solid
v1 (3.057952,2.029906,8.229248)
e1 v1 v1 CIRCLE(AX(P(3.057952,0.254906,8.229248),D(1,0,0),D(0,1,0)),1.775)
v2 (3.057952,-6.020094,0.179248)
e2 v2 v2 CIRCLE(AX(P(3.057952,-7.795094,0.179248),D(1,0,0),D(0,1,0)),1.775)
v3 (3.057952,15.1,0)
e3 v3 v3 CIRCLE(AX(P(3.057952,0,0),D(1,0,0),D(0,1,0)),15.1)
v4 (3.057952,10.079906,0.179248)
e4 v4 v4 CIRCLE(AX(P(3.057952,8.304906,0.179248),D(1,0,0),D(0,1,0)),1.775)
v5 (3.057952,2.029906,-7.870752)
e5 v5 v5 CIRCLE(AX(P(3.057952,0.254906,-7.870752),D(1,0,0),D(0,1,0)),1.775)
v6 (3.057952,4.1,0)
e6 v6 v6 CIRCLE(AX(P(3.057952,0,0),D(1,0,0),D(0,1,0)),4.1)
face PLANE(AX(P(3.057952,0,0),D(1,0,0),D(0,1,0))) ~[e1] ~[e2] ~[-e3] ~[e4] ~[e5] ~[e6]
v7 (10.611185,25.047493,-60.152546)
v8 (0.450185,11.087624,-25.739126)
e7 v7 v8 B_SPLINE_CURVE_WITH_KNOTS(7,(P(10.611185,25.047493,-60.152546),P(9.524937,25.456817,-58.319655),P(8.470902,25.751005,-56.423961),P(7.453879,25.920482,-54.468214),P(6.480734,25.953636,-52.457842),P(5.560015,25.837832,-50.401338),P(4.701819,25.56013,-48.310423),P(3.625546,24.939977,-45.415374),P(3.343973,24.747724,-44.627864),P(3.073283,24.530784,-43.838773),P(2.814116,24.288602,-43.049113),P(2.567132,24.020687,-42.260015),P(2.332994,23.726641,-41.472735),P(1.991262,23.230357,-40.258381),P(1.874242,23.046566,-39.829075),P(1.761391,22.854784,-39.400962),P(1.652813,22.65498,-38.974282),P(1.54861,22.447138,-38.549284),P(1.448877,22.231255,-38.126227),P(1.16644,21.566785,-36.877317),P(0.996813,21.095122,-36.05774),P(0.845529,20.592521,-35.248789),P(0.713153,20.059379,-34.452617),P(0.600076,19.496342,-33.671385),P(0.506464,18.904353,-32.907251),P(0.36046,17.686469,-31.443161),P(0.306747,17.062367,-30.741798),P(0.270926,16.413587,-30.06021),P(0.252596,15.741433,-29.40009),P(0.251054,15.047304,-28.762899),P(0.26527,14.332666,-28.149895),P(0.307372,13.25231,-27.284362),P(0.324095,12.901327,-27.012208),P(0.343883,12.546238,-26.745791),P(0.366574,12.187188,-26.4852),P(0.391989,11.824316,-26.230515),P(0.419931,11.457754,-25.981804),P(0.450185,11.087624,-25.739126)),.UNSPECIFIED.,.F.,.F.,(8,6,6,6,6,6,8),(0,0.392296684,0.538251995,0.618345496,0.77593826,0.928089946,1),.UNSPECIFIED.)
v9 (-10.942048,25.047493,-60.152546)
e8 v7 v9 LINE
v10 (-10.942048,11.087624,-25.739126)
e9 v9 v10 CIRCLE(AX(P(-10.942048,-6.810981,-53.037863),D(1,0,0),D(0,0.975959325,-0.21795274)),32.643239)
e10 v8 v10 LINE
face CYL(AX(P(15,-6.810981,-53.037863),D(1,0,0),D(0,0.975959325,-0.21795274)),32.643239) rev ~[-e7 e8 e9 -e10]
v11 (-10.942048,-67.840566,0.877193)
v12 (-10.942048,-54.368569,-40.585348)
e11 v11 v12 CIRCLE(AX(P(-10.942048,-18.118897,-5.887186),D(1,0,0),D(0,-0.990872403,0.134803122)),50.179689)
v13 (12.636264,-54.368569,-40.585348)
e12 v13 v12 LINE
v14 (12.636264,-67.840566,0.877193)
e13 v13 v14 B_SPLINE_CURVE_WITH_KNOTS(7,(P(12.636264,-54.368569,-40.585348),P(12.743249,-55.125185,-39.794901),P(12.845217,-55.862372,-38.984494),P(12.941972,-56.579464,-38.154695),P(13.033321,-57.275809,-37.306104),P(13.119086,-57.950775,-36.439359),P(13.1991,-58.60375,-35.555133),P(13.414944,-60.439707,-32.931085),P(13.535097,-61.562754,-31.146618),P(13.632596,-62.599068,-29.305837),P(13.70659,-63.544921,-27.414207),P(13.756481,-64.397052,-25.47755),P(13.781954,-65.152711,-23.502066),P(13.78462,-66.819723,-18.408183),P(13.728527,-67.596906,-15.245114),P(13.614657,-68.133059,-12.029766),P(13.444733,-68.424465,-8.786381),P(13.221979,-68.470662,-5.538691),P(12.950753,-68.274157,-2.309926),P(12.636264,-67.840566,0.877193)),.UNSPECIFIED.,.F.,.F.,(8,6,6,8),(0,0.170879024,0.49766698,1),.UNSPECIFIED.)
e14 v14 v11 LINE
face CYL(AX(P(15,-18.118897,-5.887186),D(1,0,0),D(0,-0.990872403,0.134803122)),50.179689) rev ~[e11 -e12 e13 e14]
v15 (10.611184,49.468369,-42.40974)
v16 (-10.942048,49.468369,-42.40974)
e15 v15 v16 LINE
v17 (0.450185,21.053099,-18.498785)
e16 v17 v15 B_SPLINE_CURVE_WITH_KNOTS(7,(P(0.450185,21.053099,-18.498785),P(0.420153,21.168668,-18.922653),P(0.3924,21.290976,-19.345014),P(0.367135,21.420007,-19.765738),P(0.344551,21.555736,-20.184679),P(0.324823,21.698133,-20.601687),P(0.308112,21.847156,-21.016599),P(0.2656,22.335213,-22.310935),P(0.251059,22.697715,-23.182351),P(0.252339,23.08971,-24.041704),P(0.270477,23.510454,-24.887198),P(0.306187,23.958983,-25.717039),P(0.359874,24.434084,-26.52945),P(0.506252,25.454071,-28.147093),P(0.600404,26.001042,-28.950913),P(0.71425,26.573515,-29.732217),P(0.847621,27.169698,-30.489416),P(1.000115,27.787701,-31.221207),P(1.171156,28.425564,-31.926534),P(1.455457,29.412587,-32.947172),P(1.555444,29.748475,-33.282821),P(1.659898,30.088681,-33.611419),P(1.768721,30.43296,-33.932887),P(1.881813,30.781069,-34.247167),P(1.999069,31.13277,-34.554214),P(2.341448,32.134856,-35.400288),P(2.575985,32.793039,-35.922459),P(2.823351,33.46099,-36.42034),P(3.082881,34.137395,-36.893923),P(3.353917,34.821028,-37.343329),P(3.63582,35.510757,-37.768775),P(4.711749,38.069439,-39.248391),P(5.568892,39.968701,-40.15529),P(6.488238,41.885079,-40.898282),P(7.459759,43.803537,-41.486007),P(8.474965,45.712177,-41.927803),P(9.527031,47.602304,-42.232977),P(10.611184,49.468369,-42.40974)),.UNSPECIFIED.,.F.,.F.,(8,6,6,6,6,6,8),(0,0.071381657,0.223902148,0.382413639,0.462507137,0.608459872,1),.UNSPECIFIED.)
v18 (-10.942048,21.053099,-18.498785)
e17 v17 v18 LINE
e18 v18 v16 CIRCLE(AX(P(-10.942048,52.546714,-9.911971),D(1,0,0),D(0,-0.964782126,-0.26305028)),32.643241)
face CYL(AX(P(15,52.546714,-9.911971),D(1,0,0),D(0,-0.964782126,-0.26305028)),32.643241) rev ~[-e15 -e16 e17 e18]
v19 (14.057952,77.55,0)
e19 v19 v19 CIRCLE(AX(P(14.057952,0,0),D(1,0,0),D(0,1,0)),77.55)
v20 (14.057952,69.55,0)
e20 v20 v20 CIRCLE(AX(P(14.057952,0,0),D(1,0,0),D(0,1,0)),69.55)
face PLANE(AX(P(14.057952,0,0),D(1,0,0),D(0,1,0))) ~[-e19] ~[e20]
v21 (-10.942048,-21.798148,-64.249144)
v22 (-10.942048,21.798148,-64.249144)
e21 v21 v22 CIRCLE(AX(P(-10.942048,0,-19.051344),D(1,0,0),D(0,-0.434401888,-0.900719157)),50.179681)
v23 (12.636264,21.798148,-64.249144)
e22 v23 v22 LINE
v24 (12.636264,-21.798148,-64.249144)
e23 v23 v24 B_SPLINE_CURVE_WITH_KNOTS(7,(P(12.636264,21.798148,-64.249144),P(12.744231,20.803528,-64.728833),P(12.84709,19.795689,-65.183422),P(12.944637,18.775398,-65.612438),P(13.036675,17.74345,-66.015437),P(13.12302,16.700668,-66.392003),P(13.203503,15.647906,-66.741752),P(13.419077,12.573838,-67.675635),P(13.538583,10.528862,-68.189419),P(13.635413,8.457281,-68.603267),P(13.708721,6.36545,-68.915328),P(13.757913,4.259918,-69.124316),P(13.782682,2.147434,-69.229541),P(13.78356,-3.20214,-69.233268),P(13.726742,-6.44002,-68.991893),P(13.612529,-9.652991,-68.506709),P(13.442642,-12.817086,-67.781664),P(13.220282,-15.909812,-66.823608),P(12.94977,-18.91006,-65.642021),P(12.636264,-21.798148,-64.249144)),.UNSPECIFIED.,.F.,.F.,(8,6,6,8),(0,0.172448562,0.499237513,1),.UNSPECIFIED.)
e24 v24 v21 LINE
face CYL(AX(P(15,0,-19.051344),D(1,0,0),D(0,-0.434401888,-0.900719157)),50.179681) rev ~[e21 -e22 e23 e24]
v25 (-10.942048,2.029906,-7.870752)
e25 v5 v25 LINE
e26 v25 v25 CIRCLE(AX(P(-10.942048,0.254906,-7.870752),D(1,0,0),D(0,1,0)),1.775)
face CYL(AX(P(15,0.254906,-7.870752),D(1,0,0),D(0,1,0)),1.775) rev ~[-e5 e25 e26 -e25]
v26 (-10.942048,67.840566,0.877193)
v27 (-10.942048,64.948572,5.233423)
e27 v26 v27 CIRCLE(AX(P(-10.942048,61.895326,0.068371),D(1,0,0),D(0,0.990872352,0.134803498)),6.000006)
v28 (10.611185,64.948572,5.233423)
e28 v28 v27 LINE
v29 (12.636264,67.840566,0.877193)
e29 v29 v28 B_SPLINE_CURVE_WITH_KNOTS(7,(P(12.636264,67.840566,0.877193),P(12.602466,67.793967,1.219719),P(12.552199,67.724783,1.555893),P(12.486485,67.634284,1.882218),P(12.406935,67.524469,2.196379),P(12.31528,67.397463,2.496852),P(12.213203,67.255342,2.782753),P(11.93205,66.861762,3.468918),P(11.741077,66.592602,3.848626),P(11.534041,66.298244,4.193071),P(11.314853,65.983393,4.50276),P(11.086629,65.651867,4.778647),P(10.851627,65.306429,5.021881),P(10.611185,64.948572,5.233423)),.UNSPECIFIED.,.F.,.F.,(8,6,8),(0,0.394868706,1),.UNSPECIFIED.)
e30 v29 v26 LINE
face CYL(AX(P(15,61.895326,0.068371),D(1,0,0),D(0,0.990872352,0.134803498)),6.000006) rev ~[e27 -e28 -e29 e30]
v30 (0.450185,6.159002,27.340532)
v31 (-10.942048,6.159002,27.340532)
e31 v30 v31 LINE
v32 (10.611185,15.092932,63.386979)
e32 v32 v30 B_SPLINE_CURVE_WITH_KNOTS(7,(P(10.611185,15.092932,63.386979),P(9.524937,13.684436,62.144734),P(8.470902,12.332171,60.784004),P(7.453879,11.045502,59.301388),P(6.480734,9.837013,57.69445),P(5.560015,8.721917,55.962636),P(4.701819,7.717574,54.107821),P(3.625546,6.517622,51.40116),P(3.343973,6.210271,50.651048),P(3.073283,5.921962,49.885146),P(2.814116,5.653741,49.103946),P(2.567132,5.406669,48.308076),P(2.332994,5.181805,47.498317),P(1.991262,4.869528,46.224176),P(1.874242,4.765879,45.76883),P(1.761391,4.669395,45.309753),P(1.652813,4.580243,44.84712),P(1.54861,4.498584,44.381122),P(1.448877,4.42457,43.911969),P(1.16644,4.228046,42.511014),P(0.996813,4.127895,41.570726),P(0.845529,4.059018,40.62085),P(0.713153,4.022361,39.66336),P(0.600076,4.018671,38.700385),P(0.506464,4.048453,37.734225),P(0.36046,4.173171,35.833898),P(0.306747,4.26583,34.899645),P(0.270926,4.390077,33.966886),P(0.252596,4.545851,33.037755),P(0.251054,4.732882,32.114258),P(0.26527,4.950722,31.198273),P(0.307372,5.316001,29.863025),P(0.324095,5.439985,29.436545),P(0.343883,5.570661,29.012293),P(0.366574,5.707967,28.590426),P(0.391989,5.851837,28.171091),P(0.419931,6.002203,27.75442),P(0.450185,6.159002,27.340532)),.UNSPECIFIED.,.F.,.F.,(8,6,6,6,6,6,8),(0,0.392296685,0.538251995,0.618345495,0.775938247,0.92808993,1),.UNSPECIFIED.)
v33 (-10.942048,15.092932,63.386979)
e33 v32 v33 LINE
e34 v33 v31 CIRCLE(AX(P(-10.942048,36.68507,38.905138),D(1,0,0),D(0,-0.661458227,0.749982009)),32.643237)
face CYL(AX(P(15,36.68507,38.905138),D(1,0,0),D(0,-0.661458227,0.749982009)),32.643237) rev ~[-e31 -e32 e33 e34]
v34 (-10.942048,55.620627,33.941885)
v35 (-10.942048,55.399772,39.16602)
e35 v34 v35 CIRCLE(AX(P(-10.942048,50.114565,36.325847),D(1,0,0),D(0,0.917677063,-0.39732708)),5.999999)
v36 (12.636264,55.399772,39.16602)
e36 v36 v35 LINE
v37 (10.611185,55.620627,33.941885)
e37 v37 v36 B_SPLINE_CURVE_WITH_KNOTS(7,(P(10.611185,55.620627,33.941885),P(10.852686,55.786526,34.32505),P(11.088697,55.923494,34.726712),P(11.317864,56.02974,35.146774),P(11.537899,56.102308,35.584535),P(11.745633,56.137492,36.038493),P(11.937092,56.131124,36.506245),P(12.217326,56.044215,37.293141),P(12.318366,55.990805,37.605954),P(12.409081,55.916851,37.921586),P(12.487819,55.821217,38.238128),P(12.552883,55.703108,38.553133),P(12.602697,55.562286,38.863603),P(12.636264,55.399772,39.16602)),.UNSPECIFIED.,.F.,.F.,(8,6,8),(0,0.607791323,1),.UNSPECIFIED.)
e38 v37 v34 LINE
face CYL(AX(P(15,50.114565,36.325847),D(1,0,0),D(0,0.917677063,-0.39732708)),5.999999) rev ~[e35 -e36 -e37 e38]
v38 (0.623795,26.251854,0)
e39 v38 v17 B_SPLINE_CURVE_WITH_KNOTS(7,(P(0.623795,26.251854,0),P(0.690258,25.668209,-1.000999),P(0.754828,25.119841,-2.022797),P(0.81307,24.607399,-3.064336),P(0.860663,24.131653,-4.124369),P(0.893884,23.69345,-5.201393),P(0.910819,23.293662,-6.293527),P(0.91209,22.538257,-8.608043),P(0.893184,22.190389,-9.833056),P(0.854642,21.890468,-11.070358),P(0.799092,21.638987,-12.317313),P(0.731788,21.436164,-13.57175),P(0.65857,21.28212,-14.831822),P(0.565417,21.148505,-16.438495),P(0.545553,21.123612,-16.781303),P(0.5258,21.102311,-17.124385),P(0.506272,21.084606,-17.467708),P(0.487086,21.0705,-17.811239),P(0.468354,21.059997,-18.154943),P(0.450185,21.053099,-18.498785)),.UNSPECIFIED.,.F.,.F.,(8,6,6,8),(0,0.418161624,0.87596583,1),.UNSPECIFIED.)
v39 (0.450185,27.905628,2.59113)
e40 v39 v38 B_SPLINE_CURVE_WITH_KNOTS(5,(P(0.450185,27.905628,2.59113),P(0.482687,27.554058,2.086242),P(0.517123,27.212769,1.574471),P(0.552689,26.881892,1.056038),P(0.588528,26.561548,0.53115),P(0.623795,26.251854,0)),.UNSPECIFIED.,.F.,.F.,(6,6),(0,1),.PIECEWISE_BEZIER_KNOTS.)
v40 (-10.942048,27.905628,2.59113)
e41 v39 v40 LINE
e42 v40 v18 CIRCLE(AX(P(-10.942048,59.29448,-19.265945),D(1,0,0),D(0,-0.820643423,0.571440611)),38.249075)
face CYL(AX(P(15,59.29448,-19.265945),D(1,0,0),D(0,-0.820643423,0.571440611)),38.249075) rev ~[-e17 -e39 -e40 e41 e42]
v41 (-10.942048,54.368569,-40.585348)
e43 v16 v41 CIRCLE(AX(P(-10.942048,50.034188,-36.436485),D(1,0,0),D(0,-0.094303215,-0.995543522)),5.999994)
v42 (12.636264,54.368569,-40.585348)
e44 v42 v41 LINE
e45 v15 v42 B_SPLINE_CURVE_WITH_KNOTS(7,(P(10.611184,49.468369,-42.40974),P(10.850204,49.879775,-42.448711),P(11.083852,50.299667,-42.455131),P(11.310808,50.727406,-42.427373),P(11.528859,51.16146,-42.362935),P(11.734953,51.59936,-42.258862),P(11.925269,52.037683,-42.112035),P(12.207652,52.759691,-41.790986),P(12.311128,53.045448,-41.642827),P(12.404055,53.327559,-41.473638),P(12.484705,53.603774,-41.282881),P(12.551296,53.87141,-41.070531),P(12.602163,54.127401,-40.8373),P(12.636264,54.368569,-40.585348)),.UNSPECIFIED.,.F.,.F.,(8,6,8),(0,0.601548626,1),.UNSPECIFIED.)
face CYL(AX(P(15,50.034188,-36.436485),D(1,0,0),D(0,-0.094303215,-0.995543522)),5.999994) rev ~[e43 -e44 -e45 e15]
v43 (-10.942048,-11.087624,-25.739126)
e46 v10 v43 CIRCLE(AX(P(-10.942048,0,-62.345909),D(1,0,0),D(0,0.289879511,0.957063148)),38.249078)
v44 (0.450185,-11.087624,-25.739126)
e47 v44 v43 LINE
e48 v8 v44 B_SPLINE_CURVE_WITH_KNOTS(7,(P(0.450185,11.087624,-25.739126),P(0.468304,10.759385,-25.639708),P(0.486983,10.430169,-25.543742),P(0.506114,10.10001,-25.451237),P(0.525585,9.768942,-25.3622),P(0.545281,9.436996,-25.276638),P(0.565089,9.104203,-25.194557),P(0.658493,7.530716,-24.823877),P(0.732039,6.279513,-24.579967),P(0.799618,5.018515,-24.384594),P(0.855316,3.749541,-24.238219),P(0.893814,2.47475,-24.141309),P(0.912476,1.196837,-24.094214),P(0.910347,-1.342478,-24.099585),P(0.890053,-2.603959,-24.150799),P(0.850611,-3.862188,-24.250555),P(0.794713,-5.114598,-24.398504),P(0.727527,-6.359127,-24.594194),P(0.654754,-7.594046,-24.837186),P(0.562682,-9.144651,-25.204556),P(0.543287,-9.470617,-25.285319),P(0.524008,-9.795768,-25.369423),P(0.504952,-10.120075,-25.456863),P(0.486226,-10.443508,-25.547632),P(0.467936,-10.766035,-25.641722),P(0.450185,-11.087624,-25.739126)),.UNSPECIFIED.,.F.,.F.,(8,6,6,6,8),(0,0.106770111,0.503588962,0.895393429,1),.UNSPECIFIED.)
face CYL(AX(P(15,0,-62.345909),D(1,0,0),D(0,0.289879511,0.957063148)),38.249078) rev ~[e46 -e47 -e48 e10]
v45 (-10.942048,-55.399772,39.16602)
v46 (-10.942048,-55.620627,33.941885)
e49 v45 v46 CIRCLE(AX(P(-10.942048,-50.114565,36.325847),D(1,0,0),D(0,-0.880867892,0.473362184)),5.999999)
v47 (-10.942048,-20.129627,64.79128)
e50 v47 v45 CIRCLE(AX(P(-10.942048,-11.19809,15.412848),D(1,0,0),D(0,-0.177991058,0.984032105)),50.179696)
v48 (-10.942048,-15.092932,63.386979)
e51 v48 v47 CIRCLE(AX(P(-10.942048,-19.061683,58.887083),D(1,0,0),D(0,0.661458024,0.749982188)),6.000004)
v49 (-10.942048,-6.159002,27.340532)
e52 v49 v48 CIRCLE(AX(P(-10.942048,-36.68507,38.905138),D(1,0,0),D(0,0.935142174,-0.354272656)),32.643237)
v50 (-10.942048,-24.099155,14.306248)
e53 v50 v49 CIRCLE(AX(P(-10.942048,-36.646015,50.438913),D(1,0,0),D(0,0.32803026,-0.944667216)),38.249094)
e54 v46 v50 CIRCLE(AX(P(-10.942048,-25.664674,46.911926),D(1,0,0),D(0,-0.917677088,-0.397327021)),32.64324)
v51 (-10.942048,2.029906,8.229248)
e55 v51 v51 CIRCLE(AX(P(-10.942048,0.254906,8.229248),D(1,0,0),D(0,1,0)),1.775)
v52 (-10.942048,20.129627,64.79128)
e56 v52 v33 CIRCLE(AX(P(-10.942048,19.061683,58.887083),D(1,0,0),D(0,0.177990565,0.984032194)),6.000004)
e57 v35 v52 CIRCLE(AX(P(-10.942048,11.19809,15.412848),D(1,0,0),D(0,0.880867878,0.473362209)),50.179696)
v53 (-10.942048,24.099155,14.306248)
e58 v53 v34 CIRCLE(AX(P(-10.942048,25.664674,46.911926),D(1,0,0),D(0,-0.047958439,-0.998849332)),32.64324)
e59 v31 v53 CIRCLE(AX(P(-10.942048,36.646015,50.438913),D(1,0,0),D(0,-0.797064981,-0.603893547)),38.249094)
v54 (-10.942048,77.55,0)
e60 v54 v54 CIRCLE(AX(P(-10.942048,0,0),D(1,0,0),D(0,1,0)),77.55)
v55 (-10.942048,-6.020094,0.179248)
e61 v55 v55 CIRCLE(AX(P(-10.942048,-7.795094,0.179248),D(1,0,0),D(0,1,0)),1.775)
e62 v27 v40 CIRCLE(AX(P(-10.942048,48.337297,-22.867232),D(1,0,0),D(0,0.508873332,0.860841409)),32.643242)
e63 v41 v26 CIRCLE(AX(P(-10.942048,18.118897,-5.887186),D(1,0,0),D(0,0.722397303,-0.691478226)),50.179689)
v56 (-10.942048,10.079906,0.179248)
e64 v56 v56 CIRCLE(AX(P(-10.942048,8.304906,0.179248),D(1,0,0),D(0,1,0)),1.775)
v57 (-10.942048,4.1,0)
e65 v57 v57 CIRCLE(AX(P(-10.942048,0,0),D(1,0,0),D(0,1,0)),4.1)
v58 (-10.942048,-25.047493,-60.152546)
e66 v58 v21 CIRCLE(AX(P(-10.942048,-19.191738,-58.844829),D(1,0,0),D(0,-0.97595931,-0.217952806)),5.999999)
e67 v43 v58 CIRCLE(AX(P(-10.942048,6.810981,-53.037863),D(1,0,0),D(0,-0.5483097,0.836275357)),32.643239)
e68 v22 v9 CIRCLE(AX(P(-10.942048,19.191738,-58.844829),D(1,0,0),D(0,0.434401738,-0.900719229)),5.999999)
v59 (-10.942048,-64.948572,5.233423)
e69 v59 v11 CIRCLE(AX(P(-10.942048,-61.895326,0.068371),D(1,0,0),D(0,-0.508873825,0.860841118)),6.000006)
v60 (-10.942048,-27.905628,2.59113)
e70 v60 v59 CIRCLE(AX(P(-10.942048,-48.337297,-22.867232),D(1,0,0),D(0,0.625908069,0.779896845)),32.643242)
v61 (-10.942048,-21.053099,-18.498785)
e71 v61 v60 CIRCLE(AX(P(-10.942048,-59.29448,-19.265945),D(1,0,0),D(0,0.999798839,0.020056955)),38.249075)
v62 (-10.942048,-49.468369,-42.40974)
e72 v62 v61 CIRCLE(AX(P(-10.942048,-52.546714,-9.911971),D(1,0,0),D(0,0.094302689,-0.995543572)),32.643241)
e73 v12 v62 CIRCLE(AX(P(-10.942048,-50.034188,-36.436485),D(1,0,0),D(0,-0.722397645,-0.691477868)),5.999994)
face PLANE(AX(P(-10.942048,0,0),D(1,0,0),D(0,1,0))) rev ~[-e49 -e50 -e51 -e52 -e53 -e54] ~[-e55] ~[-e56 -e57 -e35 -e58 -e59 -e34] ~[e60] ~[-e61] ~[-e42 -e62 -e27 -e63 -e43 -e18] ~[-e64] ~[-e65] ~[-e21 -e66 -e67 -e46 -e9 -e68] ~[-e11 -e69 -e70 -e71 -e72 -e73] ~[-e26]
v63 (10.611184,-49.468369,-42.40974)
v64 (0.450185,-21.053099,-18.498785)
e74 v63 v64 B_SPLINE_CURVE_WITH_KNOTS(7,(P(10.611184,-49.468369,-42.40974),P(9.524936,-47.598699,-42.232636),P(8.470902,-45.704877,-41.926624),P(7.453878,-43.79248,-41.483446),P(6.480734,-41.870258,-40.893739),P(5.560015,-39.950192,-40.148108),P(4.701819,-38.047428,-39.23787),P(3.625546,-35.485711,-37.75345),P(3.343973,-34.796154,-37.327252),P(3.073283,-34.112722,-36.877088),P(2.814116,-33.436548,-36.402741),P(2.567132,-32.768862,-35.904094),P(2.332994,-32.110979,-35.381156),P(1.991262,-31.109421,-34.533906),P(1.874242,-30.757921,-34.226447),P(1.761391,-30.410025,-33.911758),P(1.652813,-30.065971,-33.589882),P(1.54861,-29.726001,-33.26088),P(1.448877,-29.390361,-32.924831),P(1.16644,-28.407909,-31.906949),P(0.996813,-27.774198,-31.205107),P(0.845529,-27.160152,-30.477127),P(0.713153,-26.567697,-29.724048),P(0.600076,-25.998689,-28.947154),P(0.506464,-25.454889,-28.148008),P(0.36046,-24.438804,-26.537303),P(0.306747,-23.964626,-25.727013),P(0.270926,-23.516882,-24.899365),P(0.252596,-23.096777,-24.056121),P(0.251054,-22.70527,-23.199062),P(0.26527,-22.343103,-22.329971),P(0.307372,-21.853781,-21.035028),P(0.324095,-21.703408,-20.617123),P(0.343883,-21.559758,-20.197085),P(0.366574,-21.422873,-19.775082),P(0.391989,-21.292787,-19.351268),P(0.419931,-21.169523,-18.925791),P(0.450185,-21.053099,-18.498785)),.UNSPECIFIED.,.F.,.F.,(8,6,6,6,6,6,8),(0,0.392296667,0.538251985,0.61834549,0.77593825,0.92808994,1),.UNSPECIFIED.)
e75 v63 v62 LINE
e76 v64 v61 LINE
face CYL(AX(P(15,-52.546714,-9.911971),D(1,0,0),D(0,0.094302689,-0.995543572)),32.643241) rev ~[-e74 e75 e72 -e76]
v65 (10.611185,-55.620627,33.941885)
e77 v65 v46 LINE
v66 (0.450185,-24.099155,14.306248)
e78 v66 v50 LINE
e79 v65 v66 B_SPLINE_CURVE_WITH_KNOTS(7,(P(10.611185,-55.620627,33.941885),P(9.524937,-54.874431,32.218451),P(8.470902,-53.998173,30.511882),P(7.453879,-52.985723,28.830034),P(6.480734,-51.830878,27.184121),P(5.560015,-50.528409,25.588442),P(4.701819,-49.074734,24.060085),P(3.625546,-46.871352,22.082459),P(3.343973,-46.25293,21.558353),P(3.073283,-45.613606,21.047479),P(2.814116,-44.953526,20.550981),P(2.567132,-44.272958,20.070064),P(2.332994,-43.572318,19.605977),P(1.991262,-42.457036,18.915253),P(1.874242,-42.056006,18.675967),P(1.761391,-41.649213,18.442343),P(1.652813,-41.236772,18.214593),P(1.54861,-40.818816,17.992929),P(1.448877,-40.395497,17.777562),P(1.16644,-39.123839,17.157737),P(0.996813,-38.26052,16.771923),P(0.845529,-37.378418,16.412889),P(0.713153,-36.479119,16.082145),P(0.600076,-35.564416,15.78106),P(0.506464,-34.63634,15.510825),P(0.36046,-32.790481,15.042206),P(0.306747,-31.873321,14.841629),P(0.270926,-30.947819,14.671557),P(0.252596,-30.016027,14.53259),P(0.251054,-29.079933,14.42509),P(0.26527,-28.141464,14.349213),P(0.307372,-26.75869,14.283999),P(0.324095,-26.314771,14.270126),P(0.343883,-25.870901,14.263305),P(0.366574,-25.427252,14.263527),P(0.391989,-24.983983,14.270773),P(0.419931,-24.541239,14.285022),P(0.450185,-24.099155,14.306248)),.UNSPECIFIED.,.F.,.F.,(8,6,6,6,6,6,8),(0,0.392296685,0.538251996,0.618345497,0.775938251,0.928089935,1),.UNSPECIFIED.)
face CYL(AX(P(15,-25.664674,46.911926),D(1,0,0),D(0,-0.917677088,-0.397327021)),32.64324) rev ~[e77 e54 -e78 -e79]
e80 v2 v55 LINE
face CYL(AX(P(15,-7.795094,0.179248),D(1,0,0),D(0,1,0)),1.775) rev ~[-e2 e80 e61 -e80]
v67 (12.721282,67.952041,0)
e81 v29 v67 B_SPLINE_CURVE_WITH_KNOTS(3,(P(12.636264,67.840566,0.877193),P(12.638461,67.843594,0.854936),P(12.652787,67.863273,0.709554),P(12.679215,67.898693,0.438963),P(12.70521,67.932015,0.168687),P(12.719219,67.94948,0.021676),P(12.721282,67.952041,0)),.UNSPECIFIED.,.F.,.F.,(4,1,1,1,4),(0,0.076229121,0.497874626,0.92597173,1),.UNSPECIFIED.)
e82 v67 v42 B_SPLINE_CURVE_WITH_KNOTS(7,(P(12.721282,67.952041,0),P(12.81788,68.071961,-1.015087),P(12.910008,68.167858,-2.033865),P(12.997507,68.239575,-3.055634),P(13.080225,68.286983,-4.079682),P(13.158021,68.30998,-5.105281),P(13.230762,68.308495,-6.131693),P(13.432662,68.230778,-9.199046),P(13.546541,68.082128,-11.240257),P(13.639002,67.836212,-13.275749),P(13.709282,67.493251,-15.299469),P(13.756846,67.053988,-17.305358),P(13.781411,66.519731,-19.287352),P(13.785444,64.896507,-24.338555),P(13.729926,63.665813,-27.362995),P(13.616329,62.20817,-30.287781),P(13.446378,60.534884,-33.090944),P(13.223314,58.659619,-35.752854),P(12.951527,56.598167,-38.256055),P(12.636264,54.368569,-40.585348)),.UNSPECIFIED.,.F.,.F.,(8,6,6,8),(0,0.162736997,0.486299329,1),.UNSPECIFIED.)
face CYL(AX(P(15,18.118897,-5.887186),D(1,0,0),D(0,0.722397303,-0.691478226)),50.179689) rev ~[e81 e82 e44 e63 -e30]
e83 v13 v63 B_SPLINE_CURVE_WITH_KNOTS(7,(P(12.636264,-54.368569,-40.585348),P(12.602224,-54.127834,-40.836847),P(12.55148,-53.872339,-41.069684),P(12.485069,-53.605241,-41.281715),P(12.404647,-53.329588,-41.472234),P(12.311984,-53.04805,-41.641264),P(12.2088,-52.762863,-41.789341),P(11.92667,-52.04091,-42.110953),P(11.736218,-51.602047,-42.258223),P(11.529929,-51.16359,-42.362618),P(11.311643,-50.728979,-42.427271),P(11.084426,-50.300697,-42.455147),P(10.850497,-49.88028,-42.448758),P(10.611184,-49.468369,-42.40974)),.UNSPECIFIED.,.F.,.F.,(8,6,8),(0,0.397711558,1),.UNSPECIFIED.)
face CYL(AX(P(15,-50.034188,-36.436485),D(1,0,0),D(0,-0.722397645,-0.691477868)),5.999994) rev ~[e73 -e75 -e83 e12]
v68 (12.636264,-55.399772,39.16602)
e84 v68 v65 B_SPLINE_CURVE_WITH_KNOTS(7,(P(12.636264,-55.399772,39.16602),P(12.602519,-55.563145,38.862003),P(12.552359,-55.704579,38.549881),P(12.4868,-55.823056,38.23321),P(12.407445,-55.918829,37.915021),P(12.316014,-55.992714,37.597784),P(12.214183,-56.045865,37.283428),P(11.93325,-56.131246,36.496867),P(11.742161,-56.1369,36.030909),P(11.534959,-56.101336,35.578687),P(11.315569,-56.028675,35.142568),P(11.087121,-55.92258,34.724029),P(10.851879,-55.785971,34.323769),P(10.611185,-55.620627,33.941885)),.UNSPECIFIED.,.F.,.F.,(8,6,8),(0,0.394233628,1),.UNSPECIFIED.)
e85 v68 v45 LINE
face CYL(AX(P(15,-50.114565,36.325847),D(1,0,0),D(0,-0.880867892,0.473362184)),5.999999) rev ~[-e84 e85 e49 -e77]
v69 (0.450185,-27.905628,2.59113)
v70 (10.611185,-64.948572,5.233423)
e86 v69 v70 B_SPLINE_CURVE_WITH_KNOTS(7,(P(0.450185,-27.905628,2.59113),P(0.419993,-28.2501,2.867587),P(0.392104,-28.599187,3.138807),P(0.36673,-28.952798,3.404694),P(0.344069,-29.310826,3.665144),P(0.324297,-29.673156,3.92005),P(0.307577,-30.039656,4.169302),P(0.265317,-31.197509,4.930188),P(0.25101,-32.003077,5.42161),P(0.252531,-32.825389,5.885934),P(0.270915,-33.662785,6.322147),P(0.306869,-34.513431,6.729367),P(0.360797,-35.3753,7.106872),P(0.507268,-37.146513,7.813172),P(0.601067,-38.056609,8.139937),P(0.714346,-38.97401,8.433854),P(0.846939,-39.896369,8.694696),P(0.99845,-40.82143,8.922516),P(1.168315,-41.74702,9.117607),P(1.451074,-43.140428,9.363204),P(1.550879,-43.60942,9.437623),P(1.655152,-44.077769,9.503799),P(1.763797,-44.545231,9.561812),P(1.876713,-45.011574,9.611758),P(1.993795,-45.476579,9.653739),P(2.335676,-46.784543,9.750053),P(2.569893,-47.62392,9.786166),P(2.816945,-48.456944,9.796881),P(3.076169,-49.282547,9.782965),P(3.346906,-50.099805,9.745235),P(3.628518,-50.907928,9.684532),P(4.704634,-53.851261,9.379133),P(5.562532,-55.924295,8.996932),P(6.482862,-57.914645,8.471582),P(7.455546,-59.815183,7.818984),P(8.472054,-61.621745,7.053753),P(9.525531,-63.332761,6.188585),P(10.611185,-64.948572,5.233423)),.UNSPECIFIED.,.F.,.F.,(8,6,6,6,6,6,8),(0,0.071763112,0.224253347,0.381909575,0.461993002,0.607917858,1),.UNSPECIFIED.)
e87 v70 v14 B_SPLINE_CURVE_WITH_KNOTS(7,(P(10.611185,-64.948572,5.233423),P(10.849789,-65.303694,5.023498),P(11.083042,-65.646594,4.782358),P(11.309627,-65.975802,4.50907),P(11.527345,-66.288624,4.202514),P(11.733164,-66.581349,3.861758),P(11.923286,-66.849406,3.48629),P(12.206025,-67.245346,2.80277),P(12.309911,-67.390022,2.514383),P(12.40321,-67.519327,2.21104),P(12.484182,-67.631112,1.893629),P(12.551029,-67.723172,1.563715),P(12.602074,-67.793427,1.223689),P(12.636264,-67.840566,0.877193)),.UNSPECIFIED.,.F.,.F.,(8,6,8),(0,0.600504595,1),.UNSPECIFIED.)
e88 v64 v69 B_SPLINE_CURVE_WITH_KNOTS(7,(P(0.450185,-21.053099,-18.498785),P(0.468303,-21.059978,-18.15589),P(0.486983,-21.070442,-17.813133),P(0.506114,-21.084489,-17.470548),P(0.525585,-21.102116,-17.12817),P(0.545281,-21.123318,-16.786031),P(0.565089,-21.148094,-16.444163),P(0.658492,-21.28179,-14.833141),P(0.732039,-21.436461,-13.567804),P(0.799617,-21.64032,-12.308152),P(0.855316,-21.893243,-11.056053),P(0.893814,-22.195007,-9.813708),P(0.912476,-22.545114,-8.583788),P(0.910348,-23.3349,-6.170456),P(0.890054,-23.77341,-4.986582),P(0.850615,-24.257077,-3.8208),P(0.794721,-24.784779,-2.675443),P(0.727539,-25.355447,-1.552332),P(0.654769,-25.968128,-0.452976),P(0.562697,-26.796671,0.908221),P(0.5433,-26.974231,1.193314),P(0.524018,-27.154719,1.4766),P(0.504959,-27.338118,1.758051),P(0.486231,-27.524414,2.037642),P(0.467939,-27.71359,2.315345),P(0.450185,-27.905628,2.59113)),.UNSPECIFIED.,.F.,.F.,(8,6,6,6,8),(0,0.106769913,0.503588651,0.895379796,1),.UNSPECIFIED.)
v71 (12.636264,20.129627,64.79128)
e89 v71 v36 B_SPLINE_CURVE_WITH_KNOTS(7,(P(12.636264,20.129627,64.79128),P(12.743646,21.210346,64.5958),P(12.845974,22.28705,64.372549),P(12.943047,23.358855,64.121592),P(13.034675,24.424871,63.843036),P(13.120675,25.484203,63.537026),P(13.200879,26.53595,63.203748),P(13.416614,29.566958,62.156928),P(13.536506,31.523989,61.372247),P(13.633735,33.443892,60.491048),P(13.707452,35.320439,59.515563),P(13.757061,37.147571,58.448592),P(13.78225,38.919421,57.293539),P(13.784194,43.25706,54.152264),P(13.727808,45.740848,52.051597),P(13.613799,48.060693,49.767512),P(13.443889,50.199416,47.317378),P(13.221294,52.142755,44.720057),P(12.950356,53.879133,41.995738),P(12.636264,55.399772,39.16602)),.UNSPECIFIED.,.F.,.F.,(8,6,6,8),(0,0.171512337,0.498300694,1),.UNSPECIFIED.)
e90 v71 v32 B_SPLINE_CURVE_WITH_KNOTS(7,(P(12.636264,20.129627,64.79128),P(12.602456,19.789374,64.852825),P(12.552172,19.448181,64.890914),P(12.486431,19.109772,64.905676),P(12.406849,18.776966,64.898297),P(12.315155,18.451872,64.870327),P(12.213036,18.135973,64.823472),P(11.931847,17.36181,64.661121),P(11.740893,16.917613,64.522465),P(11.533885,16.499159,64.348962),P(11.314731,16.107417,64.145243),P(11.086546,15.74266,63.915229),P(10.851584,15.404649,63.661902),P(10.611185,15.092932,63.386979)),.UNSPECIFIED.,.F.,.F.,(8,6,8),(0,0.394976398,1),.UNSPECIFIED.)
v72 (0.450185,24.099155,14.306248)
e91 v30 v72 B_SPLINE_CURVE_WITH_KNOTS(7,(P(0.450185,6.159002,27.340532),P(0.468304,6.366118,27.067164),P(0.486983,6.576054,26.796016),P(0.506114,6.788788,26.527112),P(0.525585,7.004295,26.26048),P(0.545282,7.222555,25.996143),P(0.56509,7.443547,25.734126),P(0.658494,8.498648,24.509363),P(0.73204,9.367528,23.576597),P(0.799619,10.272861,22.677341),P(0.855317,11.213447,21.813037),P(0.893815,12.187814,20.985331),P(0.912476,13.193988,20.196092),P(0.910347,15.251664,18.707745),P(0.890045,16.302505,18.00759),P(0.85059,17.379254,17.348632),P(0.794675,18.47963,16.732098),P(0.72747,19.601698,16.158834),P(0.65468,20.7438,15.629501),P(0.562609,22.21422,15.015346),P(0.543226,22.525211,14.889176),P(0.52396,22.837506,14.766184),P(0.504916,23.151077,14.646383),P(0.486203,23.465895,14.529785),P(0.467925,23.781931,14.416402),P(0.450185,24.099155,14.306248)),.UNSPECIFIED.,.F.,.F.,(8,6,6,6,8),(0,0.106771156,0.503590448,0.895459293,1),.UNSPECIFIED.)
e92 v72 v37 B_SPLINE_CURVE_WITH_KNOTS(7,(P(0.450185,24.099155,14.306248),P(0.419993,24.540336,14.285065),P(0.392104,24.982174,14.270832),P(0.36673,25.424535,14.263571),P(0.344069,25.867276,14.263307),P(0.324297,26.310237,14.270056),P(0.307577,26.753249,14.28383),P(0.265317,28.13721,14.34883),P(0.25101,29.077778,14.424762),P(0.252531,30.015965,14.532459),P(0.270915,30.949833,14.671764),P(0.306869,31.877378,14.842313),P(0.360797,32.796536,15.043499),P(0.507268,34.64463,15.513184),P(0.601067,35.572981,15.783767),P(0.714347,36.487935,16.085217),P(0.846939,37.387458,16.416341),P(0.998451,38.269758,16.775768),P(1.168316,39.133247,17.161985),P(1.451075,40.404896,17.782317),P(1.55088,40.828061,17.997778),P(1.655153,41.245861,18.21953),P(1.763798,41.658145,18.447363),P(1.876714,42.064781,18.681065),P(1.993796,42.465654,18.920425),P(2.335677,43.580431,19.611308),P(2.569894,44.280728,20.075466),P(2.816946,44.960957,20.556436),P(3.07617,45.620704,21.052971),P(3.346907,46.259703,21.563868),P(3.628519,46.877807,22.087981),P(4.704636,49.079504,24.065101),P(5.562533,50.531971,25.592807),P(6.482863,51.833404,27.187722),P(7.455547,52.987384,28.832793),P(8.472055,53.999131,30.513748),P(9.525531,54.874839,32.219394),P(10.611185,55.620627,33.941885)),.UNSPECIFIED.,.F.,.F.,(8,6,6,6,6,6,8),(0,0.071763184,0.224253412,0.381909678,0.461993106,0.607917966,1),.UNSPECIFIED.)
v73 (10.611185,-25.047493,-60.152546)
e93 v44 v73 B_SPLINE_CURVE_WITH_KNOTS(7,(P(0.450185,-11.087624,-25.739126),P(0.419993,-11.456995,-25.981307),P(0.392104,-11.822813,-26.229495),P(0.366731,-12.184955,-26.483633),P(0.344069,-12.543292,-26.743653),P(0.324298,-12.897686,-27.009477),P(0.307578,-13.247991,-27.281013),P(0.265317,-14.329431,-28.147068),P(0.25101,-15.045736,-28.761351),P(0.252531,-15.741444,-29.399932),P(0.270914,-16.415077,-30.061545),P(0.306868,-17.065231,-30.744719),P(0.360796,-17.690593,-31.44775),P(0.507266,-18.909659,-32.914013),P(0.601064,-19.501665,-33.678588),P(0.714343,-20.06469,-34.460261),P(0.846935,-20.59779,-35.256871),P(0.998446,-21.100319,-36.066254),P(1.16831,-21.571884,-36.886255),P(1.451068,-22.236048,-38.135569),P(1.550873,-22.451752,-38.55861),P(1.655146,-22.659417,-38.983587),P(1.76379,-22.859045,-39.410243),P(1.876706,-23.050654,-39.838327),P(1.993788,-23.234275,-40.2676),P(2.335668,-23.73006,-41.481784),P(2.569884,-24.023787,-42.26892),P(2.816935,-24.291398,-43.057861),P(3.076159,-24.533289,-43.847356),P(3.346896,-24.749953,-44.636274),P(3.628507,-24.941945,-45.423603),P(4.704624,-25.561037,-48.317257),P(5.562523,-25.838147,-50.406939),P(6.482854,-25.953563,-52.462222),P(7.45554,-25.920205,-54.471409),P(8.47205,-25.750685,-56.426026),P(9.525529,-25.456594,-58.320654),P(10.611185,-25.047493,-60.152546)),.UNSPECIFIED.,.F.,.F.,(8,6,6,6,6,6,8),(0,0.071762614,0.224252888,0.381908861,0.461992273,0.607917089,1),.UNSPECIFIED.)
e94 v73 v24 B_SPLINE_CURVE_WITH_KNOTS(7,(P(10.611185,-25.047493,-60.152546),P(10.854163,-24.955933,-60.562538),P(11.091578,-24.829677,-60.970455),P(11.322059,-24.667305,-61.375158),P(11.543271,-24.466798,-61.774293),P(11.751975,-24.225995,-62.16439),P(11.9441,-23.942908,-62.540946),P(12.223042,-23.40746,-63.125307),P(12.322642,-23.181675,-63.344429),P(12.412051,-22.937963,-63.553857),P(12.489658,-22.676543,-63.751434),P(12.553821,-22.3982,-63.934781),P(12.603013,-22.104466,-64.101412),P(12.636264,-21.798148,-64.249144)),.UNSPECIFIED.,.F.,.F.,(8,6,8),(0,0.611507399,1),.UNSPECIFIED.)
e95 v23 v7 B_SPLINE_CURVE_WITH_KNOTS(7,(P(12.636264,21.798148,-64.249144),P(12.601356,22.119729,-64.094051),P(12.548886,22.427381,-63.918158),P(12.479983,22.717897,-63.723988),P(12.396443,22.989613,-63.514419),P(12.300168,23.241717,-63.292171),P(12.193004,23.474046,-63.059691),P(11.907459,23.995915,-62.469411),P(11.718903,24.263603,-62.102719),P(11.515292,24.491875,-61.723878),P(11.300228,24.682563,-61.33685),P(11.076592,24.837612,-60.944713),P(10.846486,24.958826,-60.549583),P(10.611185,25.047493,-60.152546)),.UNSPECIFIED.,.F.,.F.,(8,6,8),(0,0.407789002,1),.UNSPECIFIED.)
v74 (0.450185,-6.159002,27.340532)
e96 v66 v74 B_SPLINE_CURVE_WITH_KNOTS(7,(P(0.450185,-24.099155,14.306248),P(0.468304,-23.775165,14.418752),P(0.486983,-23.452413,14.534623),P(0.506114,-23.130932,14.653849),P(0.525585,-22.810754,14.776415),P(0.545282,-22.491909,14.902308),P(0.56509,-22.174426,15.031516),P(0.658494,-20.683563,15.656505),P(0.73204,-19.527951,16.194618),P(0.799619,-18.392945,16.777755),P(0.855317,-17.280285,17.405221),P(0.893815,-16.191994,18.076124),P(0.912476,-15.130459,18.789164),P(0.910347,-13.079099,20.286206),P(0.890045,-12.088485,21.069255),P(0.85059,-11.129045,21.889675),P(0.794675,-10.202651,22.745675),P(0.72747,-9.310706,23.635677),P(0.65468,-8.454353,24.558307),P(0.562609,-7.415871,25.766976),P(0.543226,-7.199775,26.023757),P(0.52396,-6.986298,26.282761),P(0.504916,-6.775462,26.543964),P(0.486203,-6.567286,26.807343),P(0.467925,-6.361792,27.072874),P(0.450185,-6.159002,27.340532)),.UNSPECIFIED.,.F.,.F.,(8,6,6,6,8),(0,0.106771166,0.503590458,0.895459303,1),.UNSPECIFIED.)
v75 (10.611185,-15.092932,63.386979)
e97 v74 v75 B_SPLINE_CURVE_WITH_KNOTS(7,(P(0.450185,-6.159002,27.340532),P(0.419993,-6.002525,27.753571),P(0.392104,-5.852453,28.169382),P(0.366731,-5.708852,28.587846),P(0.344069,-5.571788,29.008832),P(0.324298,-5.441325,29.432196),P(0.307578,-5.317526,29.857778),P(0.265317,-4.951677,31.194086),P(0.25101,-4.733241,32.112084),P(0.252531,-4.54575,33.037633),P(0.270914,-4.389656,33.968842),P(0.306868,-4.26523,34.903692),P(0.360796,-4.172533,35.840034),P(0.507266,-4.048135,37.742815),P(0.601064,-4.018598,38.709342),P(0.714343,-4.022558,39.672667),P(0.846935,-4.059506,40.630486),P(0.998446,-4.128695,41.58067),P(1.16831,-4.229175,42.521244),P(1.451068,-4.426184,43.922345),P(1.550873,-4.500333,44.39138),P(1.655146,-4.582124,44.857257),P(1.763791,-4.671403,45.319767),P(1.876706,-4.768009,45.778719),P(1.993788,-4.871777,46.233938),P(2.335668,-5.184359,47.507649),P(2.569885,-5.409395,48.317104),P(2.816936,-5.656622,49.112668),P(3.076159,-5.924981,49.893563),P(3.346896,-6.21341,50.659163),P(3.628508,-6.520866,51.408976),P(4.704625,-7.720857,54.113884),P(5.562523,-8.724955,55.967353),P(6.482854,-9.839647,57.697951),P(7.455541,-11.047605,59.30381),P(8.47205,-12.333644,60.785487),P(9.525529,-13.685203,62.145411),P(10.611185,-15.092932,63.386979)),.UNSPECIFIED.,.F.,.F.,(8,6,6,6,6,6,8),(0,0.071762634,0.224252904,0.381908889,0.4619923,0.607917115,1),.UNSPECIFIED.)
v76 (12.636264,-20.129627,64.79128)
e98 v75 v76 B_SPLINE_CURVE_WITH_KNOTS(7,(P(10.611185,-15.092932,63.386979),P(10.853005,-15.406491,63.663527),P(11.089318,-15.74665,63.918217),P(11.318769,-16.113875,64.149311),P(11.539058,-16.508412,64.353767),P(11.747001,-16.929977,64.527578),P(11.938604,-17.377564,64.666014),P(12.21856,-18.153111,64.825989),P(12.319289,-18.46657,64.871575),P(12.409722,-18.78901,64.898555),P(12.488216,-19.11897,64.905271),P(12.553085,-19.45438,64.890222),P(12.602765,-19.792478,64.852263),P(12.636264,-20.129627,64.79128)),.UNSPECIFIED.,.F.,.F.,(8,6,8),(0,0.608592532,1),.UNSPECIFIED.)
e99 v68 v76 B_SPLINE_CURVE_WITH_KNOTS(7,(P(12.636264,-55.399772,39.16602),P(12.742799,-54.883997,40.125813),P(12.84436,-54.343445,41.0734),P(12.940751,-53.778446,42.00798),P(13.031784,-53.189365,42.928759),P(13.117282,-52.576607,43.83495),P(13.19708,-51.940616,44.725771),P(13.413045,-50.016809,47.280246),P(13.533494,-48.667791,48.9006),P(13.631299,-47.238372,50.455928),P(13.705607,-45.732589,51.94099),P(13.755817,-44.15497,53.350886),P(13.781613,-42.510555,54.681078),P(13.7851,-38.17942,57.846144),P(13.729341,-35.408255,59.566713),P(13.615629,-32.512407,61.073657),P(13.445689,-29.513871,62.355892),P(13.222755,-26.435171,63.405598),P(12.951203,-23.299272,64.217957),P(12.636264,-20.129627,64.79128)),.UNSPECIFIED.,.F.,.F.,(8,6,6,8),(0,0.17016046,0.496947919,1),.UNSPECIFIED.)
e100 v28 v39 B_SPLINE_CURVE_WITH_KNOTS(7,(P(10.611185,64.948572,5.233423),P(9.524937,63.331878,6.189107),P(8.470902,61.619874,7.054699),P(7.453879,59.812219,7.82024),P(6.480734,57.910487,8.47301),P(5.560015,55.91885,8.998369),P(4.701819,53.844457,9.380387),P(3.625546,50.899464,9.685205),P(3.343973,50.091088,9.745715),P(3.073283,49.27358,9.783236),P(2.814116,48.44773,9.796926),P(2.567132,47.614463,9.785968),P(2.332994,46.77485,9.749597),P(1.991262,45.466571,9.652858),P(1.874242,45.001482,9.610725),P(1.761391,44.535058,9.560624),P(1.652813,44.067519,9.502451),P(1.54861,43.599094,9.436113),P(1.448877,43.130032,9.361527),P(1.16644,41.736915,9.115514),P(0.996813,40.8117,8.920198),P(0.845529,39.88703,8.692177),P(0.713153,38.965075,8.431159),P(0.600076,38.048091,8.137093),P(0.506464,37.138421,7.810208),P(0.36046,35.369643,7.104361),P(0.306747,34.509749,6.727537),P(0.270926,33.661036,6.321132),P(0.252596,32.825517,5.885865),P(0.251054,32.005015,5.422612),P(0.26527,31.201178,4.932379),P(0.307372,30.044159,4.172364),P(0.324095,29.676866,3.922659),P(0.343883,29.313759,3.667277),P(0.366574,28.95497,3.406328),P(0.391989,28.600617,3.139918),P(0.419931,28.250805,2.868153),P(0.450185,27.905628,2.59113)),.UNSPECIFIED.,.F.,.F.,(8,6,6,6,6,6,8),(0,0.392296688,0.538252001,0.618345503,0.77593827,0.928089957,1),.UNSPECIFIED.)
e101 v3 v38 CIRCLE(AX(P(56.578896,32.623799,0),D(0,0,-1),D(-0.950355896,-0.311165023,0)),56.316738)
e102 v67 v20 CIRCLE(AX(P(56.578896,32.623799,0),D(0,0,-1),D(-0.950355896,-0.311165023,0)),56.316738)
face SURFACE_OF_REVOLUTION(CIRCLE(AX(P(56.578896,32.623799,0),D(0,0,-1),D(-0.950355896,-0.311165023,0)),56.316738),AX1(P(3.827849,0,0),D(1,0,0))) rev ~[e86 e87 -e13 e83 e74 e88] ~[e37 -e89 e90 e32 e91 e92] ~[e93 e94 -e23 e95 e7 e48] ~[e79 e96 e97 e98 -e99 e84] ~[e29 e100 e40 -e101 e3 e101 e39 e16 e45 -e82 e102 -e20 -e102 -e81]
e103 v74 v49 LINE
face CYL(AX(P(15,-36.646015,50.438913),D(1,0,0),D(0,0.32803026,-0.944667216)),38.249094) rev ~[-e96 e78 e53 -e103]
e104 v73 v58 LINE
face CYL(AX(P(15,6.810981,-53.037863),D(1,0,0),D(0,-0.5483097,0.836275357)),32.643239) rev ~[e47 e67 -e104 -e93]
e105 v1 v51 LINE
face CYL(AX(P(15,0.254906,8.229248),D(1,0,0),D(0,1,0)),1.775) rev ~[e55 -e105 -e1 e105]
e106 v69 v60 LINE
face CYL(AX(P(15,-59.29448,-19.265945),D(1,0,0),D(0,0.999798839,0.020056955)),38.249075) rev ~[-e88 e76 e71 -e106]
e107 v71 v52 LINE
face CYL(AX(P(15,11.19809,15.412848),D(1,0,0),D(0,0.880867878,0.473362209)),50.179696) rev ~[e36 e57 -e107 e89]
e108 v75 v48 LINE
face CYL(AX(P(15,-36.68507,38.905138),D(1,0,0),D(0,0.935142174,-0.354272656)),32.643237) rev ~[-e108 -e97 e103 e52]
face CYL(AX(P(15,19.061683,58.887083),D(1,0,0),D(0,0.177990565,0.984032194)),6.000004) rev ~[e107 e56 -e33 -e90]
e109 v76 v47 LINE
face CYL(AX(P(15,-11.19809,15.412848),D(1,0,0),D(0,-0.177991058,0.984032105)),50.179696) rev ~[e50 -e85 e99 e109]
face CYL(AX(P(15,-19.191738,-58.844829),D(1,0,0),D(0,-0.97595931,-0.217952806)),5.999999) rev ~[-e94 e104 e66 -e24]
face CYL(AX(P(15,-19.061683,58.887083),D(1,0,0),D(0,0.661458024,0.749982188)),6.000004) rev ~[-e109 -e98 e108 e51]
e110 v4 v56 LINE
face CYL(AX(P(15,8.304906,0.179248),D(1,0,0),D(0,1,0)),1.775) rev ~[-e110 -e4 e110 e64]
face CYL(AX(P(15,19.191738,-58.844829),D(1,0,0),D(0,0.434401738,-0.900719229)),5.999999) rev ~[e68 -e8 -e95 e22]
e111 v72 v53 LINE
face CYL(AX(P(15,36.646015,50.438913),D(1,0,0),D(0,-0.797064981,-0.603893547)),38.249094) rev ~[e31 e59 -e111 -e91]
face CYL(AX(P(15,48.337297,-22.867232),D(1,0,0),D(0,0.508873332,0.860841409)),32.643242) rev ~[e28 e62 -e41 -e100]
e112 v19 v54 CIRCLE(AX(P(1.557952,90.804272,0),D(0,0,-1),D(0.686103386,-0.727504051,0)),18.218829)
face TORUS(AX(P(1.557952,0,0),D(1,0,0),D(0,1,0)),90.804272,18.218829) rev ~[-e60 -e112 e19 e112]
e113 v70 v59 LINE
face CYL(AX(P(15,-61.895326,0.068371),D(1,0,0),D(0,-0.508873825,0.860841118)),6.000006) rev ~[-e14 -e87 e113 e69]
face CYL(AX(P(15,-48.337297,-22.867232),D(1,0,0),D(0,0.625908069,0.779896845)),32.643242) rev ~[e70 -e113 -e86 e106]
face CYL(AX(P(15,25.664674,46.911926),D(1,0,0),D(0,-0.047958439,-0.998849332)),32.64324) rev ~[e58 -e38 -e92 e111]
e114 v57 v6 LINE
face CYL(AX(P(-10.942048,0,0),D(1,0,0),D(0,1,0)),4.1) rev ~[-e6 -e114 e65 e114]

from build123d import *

# Parameters (mm, degrees)
F3_R     = 1.775
F4_DEPTH = 50


with BuildPart() as f1:
    # F0 (on Top) → F1 (revolve)
    with BuildSketch(Plane.XY):
        with BuildLine():
            ThreePointArc((14.057952, 77.55), (1.557952, 72.585443), (-10.942048, 77.55))
            Line((-10.942048, 77.55), (-10.942048, 4.1))
            Line((-10.942048, 4.1), (3.057952, 4.1))
            Line((3.057952, 4.1), (3.057952, 15.1))
            ThreePointArc((3.057952, 15.1), (1.377341, 43.775629), (14.057952, 69.55))
            Line((14.057952, 69.55), (14.057952, 77.55))
        make_face()
    revolve(axis=Axis((3.827849, 0, 0), (1, 0, 0)))

    # F3 (on offset) → F4 (cut)
    with BuildSketch(Plane.YZ.offset(15)):
        with BuildLine():
            ThreePointArc((-49.468369, -42.40974), (-31.529137, -34.888813), (-21.053099, -18.498785))
            ThreePointArc((-21.053099, -18.498785), (-22.917448, -7.44633), (-27.905628, 2.59113))
            ThreePointArc((-27.905628, 2.59113), (-46.014738, 9.693281), (-64.948572, 5.233423))
            ThreePointArc((-64.948572, 5.233423), (-66.894063, 3.38691), (-67.840566, 0.877193))
            ThreePointArc((-67.840566, 0.877193), (-65.842617, -21.393563), (-54.368569, -40.585348))
            ThreePointArc((-54.368569, -40.585348), (-52.127658, -42.059412), (-49.468369, -42.40974))
        make_face()
        with BuildLine():
            ThreePointArc((-55.620627, 33.941885), (-42.924273, 19.204755), (-24.099155, 14.306248))
            ThreePointArc((-24.099155, 14.306248), (-14.163762, 19.494746), (-6.159002, 27.340532))
            ThreePointArc((-6.159002, 27.340532), (-5.000477, 46.758005), (-15.092932, 63.386979))
            ThreePointArc((-15.092932, 63.386979), (-17.450259, 64.666647), (-20.129627, 64.79128))
            ThreePointArc((-20.129627, 64.79128), (-40.692975, 56.009075), (-55.399772, 39.16602))
            ThreePointArc((-55.399772, 39.16602), (-56.10921, 36.579276), (-55.620627, 33.941885))
        make_face()
        with BuildLine():
            ThreePointArc((15.092932, 63.386979), (5.000477, 46.758005), (6.159002, 27.340532))
            ThreePointArc((6.159002, 27.340532), (14.163762, 19.494746), (24.099155, 14.306248))
            ThreePointArc((24.099155, 14.306248), (42.924273, 19.204755), (55.620627, 33.941885))
            ThreePointArc((55.620627, 33.941885), (56.10921, 36.579276), (55.399772, 39.16602))
            ThreePointArc((55.399772, 39.16602), (40.692975, 56.009075), (20.129627, 64.79128))
            ThreePointArc((20.129627, 64.79128), (17.450259, 64.666647), (15.092932, 63.386979))
        make_face()
        with BuildLine():
            ThreePointArc((64.948572, 5.233423), (46.014738, 9.693281), (27.905628, 2.59113))
            ThreePointArc((27.905628, 2.59113), (22.917448, -7.44633), (21.053099, -18.498785))
            ThreePointArc((21.053099, -18.498785), (31.529137, -34.888813), (49.468369, -42.40974))
            ThreePointArc((49.468369, -42.40974), (52.127658, -42.059412), (54.368569, -40.585348))
            ThreePointArc((54.368569, -40.585348), (65.842617, -21.393563), (67.840566, 0.877193))
            ThreePointArc((67.840566, 0.877193), (66.894063, 3.38691), (64.948572, 5.233423))
        make_face()
        with BuildLine():
            ThreePointArc((11.087624, -25.739126), (0, -24.096831), (-11.087624, -25.739126))
            ThreePointArc((-11.087624, -25.739126), (-23.438194, -40.767227), (-25.047493, -60.152546))
            ThreePointArc((-25.047493, -60.152546), (-23.892545, -62.573422), (-21.798148, -64.249144))
            ThreePointArc((-21.798148, -64.249144), (0, -69.231025), (21.798148, -64.249144))
            ThreePointArc((21.798148, -64.249144), (23.892545, -62.573422), (25.047493, -60.152546))
            ThreePointArc((25.047493, -60.152546), (23.438194, -40.767227), (11.087624, -25.739126))
        make_face()
        with Locations((0.254906, 8.229248)):
            Circle(F3_R)
        with Locations((8.304906, 0.179248)):
            Circle(F3_R)
        with Locations((0.254906, -7.870752)):
            Circle(F3_R)
        with Locations((-7.795094, 0.179248)):
            Circle(F3_R)
    extrude(amount=-F4_DEPTH, mode=Mode.SUBTRACT)


solid = f1.part
